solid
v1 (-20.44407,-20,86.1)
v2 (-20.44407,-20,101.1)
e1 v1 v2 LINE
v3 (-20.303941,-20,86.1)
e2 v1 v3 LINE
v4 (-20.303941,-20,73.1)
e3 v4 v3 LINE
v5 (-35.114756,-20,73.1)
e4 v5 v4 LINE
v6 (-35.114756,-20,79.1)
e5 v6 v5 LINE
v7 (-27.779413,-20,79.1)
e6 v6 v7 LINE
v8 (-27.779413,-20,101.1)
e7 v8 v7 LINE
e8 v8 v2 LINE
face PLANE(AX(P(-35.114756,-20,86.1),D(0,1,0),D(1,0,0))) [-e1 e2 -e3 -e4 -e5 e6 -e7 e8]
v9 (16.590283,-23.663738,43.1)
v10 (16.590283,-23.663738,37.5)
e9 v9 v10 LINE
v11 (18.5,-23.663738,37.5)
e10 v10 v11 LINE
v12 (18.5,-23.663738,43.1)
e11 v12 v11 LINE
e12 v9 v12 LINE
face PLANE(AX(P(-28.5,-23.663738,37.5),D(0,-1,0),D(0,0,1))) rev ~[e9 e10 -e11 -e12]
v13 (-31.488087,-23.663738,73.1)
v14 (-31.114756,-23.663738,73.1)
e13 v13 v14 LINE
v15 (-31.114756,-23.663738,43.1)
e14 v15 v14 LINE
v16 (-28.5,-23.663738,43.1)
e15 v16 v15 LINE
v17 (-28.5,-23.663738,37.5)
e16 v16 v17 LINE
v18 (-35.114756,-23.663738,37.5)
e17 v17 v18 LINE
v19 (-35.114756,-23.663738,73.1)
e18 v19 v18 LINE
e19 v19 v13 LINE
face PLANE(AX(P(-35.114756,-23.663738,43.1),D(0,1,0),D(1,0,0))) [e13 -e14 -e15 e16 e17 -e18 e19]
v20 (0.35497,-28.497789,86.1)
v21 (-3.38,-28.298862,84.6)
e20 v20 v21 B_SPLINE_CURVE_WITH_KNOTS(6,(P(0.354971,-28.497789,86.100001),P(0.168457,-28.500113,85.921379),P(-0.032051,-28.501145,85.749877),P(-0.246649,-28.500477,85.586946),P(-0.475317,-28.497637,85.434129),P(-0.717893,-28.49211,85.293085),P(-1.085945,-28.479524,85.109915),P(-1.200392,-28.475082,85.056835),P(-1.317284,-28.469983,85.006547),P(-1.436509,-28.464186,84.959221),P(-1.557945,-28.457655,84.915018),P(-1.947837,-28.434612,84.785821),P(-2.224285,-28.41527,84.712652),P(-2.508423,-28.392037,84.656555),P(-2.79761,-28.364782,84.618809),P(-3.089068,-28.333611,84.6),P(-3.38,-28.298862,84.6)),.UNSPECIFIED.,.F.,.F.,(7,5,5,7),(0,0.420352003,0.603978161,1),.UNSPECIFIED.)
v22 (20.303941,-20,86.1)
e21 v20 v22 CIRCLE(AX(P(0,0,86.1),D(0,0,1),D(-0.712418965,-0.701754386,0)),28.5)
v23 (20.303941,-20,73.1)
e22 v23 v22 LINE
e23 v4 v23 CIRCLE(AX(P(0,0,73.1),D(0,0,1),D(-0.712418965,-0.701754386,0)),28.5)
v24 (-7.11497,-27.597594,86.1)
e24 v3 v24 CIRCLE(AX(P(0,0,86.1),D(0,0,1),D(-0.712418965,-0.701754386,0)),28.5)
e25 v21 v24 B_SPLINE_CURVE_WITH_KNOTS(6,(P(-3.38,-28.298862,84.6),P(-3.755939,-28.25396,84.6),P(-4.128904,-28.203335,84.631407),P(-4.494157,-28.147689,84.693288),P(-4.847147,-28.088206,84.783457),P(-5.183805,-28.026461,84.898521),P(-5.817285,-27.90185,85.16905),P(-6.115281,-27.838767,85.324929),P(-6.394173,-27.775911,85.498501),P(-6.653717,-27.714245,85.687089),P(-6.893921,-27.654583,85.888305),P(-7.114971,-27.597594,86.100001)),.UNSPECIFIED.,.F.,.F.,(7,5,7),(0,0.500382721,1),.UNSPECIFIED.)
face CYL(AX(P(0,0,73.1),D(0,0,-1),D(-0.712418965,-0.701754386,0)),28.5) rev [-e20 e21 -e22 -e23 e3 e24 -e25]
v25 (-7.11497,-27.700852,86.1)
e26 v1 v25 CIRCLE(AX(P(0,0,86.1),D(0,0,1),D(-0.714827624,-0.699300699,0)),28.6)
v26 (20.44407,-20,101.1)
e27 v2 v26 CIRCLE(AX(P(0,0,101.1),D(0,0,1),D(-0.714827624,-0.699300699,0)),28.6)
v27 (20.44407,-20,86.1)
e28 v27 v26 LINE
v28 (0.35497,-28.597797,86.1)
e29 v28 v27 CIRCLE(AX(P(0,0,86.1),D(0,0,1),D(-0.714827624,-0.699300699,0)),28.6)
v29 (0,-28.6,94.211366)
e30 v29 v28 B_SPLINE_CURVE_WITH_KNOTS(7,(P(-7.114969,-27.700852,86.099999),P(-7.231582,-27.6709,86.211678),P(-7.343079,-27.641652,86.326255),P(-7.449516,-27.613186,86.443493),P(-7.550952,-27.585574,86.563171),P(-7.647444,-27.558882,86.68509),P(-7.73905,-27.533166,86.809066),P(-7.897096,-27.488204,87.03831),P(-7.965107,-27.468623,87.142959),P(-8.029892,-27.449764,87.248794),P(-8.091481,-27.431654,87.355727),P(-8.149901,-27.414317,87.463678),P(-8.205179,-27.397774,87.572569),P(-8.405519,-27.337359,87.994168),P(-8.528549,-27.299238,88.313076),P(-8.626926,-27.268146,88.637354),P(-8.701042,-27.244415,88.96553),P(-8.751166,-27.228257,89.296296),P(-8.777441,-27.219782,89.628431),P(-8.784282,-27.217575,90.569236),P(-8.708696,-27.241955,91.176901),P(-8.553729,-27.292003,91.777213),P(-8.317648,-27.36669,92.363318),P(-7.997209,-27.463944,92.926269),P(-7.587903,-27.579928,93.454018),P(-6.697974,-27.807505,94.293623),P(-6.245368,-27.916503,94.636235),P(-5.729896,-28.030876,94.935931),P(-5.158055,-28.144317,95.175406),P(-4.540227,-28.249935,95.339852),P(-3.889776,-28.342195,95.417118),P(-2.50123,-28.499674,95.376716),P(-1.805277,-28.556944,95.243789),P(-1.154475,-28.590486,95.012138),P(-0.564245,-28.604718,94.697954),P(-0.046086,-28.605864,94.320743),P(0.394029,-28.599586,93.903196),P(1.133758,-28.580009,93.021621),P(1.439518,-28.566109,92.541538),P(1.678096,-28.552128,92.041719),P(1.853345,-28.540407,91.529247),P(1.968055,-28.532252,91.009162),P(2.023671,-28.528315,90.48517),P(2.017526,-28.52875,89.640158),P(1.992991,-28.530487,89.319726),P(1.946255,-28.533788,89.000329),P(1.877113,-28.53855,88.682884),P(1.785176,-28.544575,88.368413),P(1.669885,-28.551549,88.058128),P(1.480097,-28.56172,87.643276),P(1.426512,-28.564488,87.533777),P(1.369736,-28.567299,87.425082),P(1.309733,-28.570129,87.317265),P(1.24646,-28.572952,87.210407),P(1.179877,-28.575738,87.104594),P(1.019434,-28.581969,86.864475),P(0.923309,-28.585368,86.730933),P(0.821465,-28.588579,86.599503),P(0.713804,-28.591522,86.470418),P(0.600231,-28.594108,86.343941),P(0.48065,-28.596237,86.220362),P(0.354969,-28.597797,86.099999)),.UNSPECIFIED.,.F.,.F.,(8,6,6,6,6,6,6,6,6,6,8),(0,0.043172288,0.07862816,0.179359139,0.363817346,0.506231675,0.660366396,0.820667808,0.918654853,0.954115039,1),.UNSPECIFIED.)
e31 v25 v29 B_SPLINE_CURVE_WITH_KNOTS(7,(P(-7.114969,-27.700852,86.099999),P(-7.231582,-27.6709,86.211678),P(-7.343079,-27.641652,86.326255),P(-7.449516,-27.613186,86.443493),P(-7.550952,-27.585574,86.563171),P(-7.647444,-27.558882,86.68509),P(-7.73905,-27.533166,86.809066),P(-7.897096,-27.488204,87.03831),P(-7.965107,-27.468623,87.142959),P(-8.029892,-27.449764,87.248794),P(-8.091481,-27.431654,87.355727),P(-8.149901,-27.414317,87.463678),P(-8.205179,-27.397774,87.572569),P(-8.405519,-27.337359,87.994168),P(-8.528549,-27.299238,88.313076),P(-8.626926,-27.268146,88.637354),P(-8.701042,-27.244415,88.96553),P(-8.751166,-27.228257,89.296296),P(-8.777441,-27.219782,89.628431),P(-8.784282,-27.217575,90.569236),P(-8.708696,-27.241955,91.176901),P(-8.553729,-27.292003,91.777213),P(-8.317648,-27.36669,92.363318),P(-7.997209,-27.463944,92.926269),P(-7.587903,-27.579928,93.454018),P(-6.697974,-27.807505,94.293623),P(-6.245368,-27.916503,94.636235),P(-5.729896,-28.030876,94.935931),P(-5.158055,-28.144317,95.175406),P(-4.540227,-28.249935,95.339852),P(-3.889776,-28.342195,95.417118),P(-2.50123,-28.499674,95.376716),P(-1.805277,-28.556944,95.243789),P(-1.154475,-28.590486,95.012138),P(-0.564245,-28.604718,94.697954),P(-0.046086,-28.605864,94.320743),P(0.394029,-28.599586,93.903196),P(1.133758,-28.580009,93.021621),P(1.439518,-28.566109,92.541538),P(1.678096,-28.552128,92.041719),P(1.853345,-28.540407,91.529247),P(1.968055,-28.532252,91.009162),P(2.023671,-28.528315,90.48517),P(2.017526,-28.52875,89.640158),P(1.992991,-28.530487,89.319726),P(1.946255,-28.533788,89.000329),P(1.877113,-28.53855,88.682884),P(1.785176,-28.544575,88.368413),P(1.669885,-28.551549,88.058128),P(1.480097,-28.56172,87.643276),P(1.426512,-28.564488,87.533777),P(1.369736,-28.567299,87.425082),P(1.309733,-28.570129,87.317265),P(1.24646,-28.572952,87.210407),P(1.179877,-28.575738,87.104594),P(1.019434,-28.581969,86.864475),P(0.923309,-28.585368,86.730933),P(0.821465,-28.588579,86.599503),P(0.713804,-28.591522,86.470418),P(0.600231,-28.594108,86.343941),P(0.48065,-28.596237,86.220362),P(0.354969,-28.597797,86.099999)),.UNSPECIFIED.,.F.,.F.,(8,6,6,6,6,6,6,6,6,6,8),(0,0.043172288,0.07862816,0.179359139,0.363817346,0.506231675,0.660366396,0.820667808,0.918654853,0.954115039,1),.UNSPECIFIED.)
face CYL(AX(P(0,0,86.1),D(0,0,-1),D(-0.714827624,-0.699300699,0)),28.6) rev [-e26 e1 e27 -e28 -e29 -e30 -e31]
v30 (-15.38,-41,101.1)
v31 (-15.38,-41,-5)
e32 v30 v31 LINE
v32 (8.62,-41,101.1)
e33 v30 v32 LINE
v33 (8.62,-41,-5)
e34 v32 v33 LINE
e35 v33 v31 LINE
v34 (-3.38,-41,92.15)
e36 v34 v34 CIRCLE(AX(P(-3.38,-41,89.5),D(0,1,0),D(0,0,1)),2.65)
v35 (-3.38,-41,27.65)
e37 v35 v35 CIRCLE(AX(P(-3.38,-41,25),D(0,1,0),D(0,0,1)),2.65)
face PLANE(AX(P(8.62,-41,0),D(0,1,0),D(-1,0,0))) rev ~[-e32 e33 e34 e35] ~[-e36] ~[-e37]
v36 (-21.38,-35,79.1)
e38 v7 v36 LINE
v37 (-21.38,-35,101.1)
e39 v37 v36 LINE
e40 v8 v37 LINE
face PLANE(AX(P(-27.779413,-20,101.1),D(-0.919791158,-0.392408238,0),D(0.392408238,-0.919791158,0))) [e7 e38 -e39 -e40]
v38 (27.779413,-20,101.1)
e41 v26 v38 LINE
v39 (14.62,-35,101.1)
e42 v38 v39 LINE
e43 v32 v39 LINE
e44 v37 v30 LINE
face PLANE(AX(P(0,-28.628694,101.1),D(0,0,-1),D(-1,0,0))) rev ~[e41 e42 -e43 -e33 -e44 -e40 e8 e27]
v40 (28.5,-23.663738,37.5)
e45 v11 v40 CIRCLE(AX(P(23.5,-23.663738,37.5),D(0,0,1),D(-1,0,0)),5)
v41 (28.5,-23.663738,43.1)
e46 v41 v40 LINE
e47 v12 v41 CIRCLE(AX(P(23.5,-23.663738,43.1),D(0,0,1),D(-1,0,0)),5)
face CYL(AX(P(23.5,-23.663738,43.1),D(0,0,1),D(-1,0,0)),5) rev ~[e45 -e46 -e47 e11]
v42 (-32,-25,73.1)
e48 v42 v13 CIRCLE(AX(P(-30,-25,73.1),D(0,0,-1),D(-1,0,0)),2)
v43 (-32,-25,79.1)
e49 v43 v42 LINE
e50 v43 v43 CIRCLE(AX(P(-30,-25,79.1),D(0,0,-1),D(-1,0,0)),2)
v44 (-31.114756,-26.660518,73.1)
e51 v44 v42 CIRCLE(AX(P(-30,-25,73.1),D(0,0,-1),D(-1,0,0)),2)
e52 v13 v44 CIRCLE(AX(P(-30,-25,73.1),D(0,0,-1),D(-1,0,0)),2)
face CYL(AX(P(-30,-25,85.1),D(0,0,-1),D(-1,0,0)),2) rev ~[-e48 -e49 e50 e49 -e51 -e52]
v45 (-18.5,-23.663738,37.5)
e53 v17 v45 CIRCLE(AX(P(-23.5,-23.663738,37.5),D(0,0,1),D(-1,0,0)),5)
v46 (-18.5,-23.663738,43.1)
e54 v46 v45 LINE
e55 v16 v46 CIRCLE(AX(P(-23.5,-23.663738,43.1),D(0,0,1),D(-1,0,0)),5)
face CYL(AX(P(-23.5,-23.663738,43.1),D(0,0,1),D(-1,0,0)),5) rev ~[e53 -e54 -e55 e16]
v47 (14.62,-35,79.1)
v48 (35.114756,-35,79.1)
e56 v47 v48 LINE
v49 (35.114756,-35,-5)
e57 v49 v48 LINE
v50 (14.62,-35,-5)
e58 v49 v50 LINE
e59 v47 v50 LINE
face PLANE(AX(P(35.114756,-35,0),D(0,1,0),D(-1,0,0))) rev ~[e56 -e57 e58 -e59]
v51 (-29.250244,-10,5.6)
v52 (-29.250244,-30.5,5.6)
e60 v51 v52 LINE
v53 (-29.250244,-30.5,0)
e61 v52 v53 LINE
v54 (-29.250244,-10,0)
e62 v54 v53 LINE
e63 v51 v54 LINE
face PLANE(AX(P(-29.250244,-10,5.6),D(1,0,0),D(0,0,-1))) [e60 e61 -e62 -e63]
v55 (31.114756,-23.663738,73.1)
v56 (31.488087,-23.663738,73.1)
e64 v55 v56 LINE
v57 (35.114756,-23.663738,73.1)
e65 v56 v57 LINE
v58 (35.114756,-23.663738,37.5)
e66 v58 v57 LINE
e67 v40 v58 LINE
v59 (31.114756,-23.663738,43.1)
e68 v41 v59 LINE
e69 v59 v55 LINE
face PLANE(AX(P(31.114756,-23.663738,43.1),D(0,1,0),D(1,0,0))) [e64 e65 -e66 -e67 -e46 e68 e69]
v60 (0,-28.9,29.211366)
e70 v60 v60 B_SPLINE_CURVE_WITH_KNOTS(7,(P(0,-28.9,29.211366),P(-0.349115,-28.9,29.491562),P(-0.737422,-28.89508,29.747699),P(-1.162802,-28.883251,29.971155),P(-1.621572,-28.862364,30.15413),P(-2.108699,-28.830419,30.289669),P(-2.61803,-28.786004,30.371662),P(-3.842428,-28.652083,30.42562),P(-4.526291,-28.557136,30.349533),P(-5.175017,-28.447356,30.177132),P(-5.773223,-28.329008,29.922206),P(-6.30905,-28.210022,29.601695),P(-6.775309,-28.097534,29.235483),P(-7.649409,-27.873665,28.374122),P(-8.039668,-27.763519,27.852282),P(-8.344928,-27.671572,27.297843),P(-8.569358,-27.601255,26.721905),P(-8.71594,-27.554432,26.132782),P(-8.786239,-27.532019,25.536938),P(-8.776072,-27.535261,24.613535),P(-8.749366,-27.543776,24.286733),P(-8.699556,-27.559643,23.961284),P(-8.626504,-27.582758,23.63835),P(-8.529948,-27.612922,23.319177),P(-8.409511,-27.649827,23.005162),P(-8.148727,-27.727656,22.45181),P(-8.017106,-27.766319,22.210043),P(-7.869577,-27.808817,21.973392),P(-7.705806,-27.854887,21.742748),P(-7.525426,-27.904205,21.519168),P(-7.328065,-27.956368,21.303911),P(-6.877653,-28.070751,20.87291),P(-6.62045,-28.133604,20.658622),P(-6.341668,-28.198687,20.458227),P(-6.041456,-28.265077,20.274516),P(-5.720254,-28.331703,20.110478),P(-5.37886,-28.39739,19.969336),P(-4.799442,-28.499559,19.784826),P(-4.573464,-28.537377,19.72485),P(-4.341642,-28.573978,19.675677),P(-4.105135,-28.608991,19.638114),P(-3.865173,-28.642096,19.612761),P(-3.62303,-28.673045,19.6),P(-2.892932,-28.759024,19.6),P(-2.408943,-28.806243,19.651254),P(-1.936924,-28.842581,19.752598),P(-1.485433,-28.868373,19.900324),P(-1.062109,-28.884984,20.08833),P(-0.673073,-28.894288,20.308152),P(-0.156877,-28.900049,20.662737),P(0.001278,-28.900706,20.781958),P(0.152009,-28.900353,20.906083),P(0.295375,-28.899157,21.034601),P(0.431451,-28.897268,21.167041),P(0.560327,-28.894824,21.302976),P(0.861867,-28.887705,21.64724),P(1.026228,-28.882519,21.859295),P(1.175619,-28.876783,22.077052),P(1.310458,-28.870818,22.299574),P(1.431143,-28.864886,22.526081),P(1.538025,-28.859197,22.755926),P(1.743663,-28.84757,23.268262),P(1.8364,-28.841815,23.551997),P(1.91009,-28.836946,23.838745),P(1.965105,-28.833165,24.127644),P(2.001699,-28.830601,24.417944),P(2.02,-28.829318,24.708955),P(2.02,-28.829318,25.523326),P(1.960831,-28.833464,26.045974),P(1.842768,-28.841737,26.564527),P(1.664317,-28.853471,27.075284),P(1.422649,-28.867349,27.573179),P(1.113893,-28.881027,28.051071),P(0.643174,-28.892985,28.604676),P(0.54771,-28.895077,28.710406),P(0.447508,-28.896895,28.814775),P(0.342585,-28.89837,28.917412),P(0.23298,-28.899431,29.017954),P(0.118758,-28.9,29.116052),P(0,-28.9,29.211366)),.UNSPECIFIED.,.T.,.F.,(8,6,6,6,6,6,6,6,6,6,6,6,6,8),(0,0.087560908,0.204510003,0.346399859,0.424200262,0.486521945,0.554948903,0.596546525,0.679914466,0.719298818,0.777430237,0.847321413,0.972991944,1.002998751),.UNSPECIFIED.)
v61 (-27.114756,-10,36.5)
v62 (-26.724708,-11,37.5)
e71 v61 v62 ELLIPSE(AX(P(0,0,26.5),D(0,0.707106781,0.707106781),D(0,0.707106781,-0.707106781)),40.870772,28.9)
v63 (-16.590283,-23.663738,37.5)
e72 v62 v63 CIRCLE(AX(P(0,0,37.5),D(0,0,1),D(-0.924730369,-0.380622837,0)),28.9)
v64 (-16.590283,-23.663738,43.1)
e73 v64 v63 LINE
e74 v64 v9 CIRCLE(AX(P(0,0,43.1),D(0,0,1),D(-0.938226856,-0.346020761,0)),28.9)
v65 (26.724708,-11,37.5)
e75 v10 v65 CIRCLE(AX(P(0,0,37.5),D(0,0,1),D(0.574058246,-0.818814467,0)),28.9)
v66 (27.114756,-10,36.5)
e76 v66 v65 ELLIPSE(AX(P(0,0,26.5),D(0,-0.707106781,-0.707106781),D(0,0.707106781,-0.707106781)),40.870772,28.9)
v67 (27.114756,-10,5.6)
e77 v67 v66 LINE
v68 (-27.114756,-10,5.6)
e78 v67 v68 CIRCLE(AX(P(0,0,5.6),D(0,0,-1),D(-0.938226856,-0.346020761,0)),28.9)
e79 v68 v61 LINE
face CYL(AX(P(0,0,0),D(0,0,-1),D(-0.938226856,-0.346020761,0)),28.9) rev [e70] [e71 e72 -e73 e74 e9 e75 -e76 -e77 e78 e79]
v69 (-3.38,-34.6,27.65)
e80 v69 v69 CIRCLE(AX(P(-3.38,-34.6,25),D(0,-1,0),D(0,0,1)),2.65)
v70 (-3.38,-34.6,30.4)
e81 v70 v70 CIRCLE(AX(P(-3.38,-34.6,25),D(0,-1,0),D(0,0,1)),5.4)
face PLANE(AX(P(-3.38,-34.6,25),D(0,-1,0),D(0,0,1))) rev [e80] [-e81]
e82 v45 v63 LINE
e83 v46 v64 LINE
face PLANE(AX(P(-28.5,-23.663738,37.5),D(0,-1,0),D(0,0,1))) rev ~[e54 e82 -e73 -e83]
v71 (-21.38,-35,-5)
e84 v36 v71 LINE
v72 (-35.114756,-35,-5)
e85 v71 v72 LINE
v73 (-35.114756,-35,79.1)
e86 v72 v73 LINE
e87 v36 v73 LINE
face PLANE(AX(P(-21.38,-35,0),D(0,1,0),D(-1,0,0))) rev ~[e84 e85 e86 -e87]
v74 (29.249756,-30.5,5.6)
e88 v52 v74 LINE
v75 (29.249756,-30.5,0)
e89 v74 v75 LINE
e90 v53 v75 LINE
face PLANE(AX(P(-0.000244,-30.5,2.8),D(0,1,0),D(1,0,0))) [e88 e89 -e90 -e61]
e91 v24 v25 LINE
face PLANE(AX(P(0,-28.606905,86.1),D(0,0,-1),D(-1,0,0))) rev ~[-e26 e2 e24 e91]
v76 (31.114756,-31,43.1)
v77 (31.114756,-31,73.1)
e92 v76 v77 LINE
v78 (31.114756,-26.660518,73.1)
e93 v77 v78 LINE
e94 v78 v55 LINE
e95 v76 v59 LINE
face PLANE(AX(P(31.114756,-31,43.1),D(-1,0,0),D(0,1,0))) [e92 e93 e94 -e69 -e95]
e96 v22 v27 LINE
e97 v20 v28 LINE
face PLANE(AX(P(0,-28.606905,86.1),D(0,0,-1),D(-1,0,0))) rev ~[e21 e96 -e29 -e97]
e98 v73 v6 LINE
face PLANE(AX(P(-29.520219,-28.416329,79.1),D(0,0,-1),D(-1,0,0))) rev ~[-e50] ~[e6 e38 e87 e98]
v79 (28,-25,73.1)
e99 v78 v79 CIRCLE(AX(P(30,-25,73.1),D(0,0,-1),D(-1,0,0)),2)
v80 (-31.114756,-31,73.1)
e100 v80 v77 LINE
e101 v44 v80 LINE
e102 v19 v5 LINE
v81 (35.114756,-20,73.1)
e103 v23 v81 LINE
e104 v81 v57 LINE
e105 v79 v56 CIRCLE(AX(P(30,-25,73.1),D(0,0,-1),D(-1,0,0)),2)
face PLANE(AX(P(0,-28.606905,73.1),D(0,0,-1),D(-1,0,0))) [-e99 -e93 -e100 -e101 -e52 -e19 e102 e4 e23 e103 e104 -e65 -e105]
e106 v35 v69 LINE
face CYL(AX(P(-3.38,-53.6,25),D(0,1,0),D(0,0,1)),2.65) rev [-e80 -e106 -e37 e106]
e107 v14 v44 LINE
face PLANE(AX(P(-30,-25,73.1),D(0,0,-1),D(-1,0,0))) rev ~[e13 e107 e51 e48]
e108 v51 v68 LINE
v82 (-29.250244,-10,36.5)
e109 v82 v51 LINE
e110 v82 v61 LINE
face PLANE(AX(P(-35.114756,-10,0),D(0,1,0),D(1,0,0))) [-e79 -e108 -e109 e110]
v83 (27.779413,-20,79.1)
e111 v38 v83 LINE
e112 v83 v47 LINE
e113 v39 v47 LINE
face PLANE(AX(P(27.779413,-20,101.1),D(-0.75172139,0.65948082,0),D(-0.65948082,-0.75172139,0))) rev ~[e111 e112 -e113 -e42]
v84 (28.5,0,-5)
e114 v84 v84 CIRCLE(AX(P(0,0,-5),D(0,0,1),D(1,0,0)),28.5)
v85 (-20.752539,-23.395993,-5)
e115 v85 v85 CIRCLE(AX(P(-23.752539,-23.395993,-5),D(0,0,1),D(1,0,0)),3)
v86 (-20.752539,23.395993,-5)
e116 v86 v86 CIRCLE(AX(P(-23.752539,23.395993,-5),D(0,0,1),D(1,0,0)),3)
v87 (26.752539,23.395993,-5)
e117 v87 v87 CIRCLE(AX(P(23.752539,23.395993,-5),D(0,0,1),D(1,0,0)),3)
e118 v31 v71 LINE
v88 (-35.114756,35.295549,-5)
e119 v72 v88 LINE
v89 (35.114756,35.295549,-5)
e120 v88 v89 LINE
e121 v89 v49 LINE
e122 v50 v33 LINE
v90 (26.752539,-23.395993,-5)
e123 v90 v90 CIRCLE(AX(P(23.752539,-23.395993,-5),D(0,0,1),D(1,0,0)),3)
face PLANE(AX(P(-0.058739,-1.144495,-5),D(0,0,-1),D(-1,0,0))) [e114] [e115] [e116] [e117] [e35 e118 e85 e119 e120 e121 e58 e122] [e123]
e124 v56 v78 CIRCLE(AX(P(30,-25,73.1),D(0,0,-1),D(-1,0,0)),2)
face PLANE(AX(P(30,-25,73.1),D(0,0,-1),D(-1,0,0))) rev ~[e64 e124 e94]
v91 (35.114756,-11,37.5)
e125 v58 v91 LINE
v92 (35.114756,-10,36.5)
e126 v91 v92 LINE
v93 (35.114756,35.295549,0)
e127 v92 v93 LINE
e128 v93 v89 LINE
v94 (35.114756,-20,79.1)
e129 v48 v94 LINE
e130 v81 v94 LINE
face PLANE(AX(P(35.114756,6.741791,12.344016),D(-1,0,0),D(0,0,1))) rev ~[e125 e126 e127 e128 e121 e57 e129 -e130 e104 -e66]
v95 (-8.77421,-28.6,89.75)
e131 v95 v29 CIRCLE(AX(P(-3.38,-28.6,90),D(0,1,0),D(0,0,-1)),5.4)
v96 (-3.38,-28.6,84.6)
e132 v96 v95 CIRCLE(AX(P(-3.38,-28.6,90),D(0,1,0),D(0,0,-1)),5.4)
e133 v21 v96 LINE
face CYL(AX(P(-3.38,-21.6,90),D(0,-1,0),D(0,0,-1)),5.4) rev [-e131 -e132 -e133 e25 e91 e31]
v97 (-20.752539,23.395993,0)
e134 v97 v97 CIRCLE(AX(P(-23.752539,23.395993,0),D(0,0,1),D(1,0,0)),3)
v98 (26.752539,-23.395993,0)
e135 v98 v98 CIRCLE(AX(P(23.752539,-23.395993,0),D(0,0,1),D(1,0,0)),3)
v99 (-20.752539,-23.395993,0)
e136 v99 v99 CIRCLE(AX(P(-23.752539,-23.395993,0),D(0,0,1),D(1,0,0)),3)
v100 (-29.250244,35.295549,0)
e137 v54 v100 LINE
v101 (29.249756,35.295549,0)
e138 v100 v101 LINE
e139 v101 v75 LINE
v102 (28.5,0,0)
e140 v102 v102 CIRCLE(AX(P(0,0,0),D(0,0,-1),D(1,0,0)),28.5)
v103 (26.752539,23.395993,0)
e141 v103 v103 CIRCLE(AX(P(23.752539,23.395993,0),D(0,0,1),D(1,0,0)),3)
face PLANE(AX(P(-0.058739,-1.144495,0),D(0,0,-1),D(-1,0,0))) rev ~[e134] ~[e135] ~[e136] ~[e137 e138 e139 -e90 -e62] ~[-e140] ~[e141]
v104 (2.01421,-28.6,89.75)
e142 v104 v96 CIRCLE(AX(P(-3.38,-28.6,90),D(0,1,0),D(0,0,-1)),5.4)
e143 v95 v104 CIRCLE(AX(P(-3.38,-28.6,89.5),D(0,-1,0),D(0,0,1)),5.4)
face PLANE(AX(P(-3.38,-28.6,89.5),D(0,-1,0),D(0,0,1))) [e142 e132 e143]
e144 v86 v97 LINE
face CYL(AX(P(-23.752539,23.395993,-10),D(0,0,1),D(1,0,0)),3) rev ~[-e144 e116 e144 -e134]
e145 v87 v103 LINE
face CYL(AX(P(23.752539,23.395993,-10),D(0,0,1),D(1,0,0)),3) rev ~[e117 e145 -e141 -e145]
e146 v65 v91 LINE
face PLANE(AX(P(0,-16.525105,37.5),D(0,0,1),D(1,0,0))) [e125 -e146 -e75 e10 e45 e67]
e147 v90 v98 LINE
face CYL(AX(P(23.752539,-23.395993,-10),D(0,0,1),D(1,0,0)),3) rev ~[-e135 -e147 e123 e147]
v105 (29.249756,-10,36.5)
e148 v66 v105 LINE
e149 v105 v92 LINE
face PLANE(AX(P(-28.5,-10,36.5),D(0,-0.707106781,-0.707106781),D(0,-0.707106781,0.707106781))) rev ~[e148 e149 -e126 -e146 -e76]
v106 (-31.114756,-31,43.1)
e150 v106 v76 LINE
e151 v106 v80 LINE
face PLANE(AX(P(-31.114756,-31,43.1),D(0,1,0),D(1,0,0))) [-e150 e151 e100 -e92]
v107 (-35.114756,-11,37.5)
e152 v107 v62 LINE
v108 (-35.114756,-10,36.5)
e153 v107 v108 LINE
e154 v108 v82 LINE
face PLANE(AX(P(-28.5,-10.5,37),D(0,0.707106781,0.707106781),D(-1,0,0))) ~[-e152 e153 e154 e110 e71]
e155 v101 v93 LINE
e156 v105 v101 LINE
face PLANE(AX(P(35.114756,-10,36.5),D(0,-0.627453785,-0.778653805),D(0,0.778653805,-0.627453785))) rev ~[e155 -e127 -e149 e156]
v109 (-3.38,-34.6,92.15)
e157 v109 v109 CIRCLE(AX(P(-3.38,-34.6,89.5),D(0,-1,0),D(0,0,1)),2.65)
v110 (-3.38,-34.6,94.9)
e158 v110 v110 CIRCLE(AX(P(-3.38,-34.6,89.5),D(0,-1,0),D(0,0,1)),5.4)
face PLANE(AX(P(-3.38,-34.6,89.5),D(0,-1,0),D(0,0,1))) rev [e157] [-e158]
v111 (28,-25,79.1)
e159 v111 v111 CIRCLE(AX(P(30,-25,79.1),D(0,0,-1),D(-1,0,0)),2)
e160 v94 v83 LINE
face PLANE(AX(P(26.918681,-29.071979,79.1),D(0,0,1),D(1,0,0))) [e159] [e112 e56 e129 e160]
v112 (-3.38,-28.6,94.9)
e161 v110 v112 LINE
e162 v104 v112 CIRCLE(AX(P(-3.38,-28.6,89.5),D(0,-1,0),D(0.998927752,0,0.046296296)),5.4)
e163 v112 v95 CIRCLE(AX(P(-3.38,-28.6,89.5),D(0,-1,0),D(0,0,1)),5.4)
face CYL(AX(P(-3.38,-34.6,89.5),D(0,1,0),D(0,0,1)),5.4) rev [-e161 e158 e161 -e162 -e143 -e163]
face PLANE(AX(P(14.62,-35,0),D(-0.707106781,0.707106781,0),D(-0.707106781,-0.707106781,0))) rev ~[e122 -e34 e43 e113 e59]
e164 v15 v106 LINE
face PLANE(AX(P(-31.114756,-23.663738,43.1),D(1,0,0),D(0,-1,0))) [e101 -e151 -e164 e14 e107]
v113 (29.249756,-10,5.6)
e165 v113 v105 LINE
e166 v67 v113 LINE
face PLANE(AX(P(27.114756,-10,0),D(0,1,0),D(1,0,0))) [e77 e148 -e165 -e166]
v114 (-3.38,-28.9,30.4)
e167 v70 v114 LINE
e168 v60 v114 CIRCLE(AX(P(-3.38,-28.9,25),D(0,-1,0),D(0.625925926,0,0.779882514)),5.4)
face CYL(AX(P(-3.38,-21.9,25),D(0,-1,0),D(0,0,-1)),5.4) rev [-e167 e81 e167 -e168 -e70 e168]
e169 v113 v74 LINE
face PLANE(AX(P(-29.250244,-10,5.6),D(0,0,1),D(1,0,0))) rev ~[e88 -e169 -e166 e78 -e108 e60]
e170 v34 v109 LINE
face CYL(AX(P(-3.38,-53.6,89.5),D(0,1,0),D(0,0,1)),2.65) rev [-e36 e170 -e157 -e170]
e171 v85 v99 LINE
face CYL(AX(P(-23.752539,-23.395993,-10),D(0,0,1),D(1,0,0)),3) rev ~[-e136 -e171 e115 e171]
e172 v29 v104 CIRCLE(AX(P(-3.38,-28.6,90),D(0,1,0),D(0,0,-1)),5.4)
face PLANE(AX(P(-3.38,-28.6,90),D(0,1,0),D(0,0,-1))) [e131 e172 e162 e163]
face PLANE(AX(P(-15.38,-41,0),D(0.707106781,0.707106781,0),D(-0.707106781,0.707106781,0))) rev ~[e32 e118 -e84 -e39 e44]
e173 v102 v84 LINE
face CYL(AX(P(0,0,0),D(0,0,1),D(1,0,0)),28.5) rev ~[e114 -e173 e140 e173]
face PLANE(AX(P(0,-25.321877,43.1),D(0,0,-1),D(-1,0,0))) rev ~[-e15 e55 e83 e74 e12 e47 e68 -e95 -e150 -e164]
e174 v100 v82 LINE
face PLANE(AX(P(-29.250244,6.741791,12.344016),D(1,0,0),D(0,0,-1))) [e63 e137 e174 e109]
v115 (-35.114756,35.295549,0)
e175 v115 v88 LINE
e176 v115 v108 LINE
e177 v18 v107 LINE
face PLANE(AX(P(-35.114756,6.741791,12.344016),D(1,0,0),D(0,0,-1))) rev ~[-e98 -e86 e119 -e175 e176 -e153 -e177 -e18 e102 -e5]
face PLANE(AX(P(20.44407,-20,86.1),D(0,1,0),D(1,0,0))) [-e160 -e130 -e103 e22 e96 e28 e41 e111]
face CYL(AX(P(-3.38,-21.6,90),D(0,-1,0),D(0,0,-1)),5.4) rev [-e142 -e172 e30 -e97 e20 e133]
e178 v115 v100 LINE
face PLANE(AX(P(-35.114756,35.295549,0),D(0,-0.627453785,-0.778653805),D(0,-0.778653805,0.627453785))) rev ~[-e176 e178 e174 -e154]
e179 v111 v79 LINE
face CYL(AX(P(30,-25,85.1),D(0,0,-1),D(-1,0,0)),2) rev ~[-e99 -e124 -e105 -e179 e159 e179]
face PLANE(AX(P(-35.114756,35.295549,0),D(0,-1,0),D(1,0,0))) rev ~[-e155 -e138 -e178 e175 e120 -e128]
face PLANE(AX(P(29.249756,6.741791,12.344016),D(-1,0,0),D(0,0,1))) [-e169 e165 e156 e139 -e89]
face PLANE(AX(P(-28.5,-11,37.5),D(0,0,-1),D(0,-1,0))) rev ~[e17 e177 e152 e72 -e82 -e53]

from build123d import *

# Parameters (mm, degrees)
AUFSATZ_LINEAR_AUSTRAGEN1_DEPTH                = 43.1
SKIZZE2_R                                      = 2.55
AUFSATZ_LINEAR_AUSTRAGEN2_DEPTH                = 5
AUFSATZ_LINEAR_AUSTRAGEN2_TAPER                = 10
SCHNITT_LINEAR_AUSTRAGEN1_DEPTH                = 5.6
FASE1_SIZE                                     = 1
SCHNITT_LINEAR_AUSTRAGEN2_DEPTH                = 64.61475613
SCHNITT_LINEAR_AUSTRAGEN2_DEPTH_BACK           = 7.61475613
AUFSATZ_LINEAR_AUSTRAGEN3_DEPTH                = 30
AUFSATZ_LINEAR_AUSTRAGEN4_DEPTH                = 13
AUFSATZ_LINEAR_AUSTRAGEN5_DEPTH                = 15
AUFSATZ_LINEAR_AUSTRAGEN6_DEPTH                = 101.1
F_1_0_1_DURCHMESSER_BOHRUNG1_D                 = 1
F_1_0_1_DURCHMESSER_BOHRUNG1_DEPTH             = 25
F_1_0_1_DURCHMESSER_BOHRUNG1_TIP               = 0.30043031
F_1_0_1_DURCHMESSER_BOHRUNG2_D                 = 1
F_1_0_1_DURCHMESSER_BOHRUNG2_DEPTH             = 25
F_1_0_1_DURCHMESSER_BOHRUNG2_TIP               = 0.30043031
AUFSATZ_LINEAR_AUSTRAGEN7_DEPTH                = 5
SKIZZE48_R                                     = 28.5
SCHNITT_LINEAR_AUSTRAGEN4_DEPTH                = 6
SKIZZE49_W                                     = 58.5
SKIZZE49_H                                     = 5.6
SCHNITT_LINEAR_AUSTRAGEN8_DEPTH                = 20.5
F_6_0_6_DURCHMESSER_BOHRUNG1_D                 = 6
F_6_0_6_DURCHMESSER_BOHRUNG1_DEPTH             = 5
AUFSATZ_LINEAR_AUSTRAGEN8_DEPTH                = 5.864512
AUFSATZ_LINEAR_AUSTRAGEN9_DEPTH                = 5.865
SCHNITT_LINEAR_AUSTRAGEN11_DEPTH               = 22
F_4_0_4_DURCHMESSER_BOHRUNG2_D                 = 4
F_4_0_4_DURCHMESSER_BOHRUNG2_DEPTH             = 6
STIRNSENKUNG_F_R_M5_ZYLINDERSCHRAUBE_3_A_COUNT = 2
STIRNSENKUNG_F_R_M5_ZYLINDERSCHRAUBE_3_A_PITCH = 64.5


with BuildPart() as part:
    # Skizze1 → Aufsatz-Linear austragen1 (new body)
    with BuildSketch(Plane.XY):
        with BuildLine():
            Line((27.11475613, -10), (35.11475613, -10))
            Line((35.11475613, -10), (35.11475613, -35))
            Line((35.11475613, -35), (-35.11475613, -35))
            Line((-35.11475613, -35), (-35.11475613, -10))
            Line((-35.11475613, -10), (-27.11475613, -10))
            ThreePointArc((-27.11475613, -10), (0, -28.9), (27.11475613, -10))
        make_face()
    extrude(amount=AUFSATZ_LINEAR_AUSTRAGEN1_DEPTH)

    # Skizze2 → Aufsatz-Linear austragen2 (add)
    with BuildSketch(Plane(origin=(0, 0, 0), x_dir=(-1, 0, 0), z_dir=(0, 0, -1))):
        with Locations((-23.5, -23.663738082)):
            Circle(SKIZZE2_R)
        with Locations((23.5, -23.663738082)):
            Circle(SKIZZE2_R)
    extrude(amount=AUFSATZ_LINEAR_AUSTRAGEN2_DEPTH, taper=AUFSATZ_LINEAR_AUSTRAGEN2_TAPER)

    # Skizze3 → Schnitt-Linear austragen1 (cut)
    with BuildSketch(Plane.XY.offset(43.1)):
        with BuildLine():
            Line((28.5, -23.663738082), (28.5, -7.705302488))
            Line((28.5, -7.705302488), (-28.5, -7.705302488))
            Line((-28.5, -7.705302488), (-28.5, -23.663738082))
            ThreePointArc((-28.5, -23.663738082), (-23.5, -28.663738082), (-18.5, -23.663738082))
            Line((-18.5, -23.663738082), (-18.5, -22.202702538))
            Line((-18.5, -22.202702538), (18.5, -22.202702538))
            Line((18.5, -22.202702538), (18.5, -23.663738082))
            ThreePointArc((18.5, -23.663738082), (23.5, -28.663738082), (28.5, -23.663738082))
        make_face()
    extrude(amount=-SCHNITT_LINEAR_AUSTRAGEN1_DEPTH, mode=Mode.SUBTRACT)

    # Fase1
    fase1_edges = [part.edges().sort_by_distance(p)[0] for p in [
        (27.807378065, -10, 37.5),
        (-27.807378065, -10, 37.5),
    ]]
    chamfer(fase1_edges, length=FASE1_SIZE)

    # Skizze4 → Schnitt-Linear austragen2 (cut, two sides)
    with BuildSketch(Plane(origin=(-28.5, 0, 0), x_dir=(0, 0, -1), z_dir=(1, 0, 0))) as schnitt_linear_austragen2_sk:
        Polygon((-36.5, -10), (-37.5, -11), (-37.5, -23.663738082), (-43.1, -23.663738082), (-43.1, -10), align=None)
    extrude(amount=SCHNITT_LINEAR_AUSTRAGEN2_DEPTH, mode=Mode.SUBTRACT)
    extrude(schnitt_linear_austragen2_sk.sketch, amount=-SCHNITT_LINEAR_AUSTRAGEN2_DEPTH_BACK, mode=Mode.SUBTRACT)

    # Skizze5 → Aufsatz-Linear austragen3 (add)
    with BuildSketch(Plane.XY.offset(43.1)):
        Polygon((-35.11475613, -35), (-35.11475613, -23.663738082), (-31.11475613, -23.663738082), (-31.11475613, -31), (31.11475613, -31), (31.11475613, -23.663738082), (35.11475613, -23.663738082), (35.11475613, -35), align=None)
    extrude(amount=AUFSATZ_LINEAR_AUSTRAGEN3_DEPTH)

    # Skizze6 → Aufsatz-Linear austragen4 (add)
    with BuildSketch(Plane.XY.offset(73.1)):
        with BuildLine():
            Line((35.11475613, -35), (-35.11475613, -35))
            Line((-35.11475613, -35), (-35.11475613, -20))
            Line((-35.11475613, -20), (-20.303940504, -20))
            ThreePointArc((-20.303940504, -20), (0, -28.5), (20.303940504, -20))
            Line((20.303940504, -20), (35.11475613, -20))
            Line((35.11475613, -20), (35.11475613, -35))
        make_face()
    extrude(amount=AUFSATZ_LINEAR_AUSTRAGEN4_DEPTH)

    # Skizze7 → Aufsatz-Linear austragen5 (add)
    with BuildSketch(Plane.XY.offset(86.1)):
        with BuildLine():
            Line((35.11475613, -35), (-35.11475613, -35))
            Line((-35.11475613, -35), (-35.11475613, -20))
            Line((-35.11475613, -20), (-20.444070045, -20))
            ThreePointArc((-20.444070045, -20), (0, -28.6), (20.444070045, -20))
            Line((20.444070045, -20), (35.11475613, -20))
            Line((35.11475613, -20), (35.11475613, -35))
        make_face()
    extrude(amount=AUFSATZ_LINEAR_AUSTRAGEN5_DEPTH)

    # Skizze24 → Aufsatz-Linear austragen6 (add)
    with BuildSketch(Plane(origin=(0, 0, 0), x_dir=(-1, 0, 0), z_dir=(0, 0, -1))):
        Polygon((-8.62, -41), (-14.62, -35), (21.38, -35), (15.38, -41), align=None)
    extrude(amount=-AUFSATZ_LINEAR_AUSTRAGEN6_DEPTH)

    # Ø1.0 (1) Durchmesser Bohrung1
    with Locations(Plane(origin=(0, -41, 0), x_dir=(-1, 0, 0), z_dir=(0, -1, 0))):
        with Locations((3.38, -25)):
            Hole(F_1_0_1_DURCHMESSER_BOHRUNG1_D / 2, depth=F_1_0_1_DURCHMESSER_BOHRUNG1_DEPTH)
            with Locations((0, 0, -(F_1_0_1_DURCHMESSER_BOHRUNG1_DEPTH + F_1_0_1_DURCHMESSER_BOHRUNG1_TIP / 2))):  # 118° drill point
                Cone(0, F_1_0_1_DURCHMESSER_BOHRUNG1_D / 2, F_1_0_1_DURCHMESSER_BOHRUNG1_TIP, mode=Mode.SUBTRACT)

    # Skizze32 → Stirnsenkung f_r M5 Zylinderschraube mit (revolve, cut)
    with BuildSketch(Plane(origin=(-3.38, -28.9, 25), x_dir=(0, 0, -1), z_dir=(1, 0, 0))):
        Polygon((0, 0), (0, 26.652366702), (2.75, 25), (2.75, 7), (5.4, 7), (5.4, 0), align=None)
    revolve(axis=Axis((-3.38, -35.25, 25), (0, 1, 0)), mode=Mode.SUBTRACT)

    # Ø1.0 (1) Durchmesser Bohrung2
    with Locations(Plane(origin=(0, -41, 0), x_dir=(-1, 0, 0), z_dir=(0, -1, 0))):
        with Locations((3.38, -90)):
            Hole(F_1_0_1_DURCHMESSER_BOHRUNG2_D / 2, depth=F_1_0_1_DURCHMESSER_BOHRUNG2_DEPTH)
            with Locations((0, 0, -(F_1_0_1_DURCHMESSER_BOHRUNG2_DEPTH + F_1_0_1_DURCHMESSER_BOHRUNG2_TIP / 2))):  # 118° drill point
                Cone(0, F_1_0_1_DURCHMESSER_BOHRUNG2_D / 2, F_1_0_1_DURCHMESSER_BOHRUNG2_TIP, mode=Mode.SUBTRACT)

    # Skizze41 → Stirnsenkung f_r M5 Zylinderschraube 2 (revolve, cut)
    with BuildSketch(Plane(origin=(-3.38, -28.6, 90), x_dir=(0, 0, -1), z_dir=(1, 0, 0))):
        Polygon((0, 0), (0, 26.652366702), (2.75, 25), (2.75, 7), (5.4, 7), (5.4, 0), align=None)
    revolve(axis=Axis((-3.38, -34.95, 90), (0, 1, 0)), mode=Mode.SUBTRACT)

    # Skizze45 → Aufsatz-Linear austragen7 (add)
    with BuildSketch(Plane(origin=(0, 0, 0), x_dir=(-1, 0, 0), z_dir=(0, 0, -1))):
        Polygon((-35.11475613, -35), (-14.62, -35), (-8.62, -41), (15.38, -41), (21.38, -35), (35.11475613, -35), (35.11475613, 35.295549341), (-35.11475613, 35.295549341), align=None)
    extrude(amount=AUFSATZ_LINEAR_AUSTRAGEN7_DEPTH)

    # Skizze48 → Schnitt-Linear austragen4 (cut, through all)
    with BuildSketch(Plane.XY):
        Circle(SKIZZE48_R)
    extrude(amount=-SCHNITT_LINEAR_AUSTRAGEN4_DEPTH, mode=Mode.SUBTRACT)

    # Skizze49 → Schnitt-Linear austragen8 (cut)
    with BuildSketch(Plane(origin=(0, -10, 0), x_dir=(1, 0, 0), z_dir=(0, 1, 0))):
        with Locations((-0.00024387, -2.8)):
            Rectangle(SKIZZE49_W, SKIZZE49_H)
    extrude(amount=-SCHNITT_LINEAR_AUSTRAGEN8_DEPTH, mode=Mode.SUBTRACT)

    # Ø6.0 (6) Durchmesser Bohrung1
    with Locations(Plane(origin=(0, 0, -5), x_dir=(-1, 0, 0), z_dir=(0, 0, -1))):
        with Locations((-23.752539123, 23.39599293), (23.752539123, 23.39599293), (23.752539123, -23.39599293), (-23.752539123, -23.39599293)):
            Hole(F_6_0_6_DURCHMESSER_BOHRUNG1_D / 2, depth=F_6_0_6_DURCHMESSER_BOHRUNG1_DEPTH)

    # Skizze54 → Aufsatz-Linear austragen8 (add)
    with BuildSketch(Plane.ZY.offset(35.11475613)):
        Polygon((0, 35.295549341), (36.5, -10), (0, -10), align=None)
    extrude(amount=-AUFSATZ_LINEAR_AUSTRAGEN8_DEPTH)

    # Skizze55 → Aufsatz-Linear austragen9 (add)
    with BuildSketch(Plane(origin=(35.11475613, 0, 0), x_dir=(0, 0, -1), z_dir=(1, 0, 0))):
        Polygon((0, 35.295549341), (0, -10), (-36.5, -10), align=None)
    extrude(amount=-AUFSATZ_LINEAR_AUSTRAGEN9_DEPTH)

    # Skizze62 → Schnitt-Linear austragen11 (cut)
    with BuildSketch(Plane.XY.offset(101.1)):
        Polygon((-35.11475613, -20), (-27.779413088, -20), (-21.38, -35), (-35.11475613, -35), align=None)
        Polygon((35.11475613, -20), (27.779413088, -20), (14.62, -35), (35.11475613, -35), align=None)
    extrude(amount=-SCHNITT_LINEAR_AUSTRAGEN11_DEPTH, mode=Mode.SUBTRACT)

    # Ø4.0 (4) Durchmesser Bohrung2
    with Locations(Plane.XY.offset(79.1)):
        with Locations((-30, -25), (30, -25)):
            Hole(F_4_0_4_DURCHMESSER_BOHRUNG2_D / 2, depth=F_4_0_4_DURCHMESSER_BOHRUNG2_DEPTH)

    # Skizze68 → Stirnsenkung f_r M5 Zylinderschraube 3 (revolve, cut)
    with BuildSketch(Plane(origin=(-3.38, -28.6, 25), x_dir=(0, 0, 1), z_dir=(1, 0, 0))):
        Polygon((0, 0), (0, 26.59228064), (2.65, 25), (2.65, 6), (5.4, 6), (5.4, 0), align=None)
    stirnsenkung_f_r_m5_zylinderschraube_3 = revolve(axis=Axis((-3.38, -22.25, 25), (0, -1, 0)), mode=Mode.SUBTRACT)

    # Stirnsenkung f_r M5 Zylinderschraube 3 a: Stirnsenkung f_r M5 Zylinderschraube 3 ×2
    with Locations(*[(0, 0, i * STIRNSENKUNG_F_R_M5_ZYLINDERSCHRAUBE_3_A_PITCH) for i in range(1, STIRNSENKUNG_F_R_M5_ZYLINDERSCHRAUBE_3_A_COUNT)]):
        add(stirnsenkung_f_r_m5_zylinderschraube_3, mode=Mode.SUBTRACT)


solid = part.part
